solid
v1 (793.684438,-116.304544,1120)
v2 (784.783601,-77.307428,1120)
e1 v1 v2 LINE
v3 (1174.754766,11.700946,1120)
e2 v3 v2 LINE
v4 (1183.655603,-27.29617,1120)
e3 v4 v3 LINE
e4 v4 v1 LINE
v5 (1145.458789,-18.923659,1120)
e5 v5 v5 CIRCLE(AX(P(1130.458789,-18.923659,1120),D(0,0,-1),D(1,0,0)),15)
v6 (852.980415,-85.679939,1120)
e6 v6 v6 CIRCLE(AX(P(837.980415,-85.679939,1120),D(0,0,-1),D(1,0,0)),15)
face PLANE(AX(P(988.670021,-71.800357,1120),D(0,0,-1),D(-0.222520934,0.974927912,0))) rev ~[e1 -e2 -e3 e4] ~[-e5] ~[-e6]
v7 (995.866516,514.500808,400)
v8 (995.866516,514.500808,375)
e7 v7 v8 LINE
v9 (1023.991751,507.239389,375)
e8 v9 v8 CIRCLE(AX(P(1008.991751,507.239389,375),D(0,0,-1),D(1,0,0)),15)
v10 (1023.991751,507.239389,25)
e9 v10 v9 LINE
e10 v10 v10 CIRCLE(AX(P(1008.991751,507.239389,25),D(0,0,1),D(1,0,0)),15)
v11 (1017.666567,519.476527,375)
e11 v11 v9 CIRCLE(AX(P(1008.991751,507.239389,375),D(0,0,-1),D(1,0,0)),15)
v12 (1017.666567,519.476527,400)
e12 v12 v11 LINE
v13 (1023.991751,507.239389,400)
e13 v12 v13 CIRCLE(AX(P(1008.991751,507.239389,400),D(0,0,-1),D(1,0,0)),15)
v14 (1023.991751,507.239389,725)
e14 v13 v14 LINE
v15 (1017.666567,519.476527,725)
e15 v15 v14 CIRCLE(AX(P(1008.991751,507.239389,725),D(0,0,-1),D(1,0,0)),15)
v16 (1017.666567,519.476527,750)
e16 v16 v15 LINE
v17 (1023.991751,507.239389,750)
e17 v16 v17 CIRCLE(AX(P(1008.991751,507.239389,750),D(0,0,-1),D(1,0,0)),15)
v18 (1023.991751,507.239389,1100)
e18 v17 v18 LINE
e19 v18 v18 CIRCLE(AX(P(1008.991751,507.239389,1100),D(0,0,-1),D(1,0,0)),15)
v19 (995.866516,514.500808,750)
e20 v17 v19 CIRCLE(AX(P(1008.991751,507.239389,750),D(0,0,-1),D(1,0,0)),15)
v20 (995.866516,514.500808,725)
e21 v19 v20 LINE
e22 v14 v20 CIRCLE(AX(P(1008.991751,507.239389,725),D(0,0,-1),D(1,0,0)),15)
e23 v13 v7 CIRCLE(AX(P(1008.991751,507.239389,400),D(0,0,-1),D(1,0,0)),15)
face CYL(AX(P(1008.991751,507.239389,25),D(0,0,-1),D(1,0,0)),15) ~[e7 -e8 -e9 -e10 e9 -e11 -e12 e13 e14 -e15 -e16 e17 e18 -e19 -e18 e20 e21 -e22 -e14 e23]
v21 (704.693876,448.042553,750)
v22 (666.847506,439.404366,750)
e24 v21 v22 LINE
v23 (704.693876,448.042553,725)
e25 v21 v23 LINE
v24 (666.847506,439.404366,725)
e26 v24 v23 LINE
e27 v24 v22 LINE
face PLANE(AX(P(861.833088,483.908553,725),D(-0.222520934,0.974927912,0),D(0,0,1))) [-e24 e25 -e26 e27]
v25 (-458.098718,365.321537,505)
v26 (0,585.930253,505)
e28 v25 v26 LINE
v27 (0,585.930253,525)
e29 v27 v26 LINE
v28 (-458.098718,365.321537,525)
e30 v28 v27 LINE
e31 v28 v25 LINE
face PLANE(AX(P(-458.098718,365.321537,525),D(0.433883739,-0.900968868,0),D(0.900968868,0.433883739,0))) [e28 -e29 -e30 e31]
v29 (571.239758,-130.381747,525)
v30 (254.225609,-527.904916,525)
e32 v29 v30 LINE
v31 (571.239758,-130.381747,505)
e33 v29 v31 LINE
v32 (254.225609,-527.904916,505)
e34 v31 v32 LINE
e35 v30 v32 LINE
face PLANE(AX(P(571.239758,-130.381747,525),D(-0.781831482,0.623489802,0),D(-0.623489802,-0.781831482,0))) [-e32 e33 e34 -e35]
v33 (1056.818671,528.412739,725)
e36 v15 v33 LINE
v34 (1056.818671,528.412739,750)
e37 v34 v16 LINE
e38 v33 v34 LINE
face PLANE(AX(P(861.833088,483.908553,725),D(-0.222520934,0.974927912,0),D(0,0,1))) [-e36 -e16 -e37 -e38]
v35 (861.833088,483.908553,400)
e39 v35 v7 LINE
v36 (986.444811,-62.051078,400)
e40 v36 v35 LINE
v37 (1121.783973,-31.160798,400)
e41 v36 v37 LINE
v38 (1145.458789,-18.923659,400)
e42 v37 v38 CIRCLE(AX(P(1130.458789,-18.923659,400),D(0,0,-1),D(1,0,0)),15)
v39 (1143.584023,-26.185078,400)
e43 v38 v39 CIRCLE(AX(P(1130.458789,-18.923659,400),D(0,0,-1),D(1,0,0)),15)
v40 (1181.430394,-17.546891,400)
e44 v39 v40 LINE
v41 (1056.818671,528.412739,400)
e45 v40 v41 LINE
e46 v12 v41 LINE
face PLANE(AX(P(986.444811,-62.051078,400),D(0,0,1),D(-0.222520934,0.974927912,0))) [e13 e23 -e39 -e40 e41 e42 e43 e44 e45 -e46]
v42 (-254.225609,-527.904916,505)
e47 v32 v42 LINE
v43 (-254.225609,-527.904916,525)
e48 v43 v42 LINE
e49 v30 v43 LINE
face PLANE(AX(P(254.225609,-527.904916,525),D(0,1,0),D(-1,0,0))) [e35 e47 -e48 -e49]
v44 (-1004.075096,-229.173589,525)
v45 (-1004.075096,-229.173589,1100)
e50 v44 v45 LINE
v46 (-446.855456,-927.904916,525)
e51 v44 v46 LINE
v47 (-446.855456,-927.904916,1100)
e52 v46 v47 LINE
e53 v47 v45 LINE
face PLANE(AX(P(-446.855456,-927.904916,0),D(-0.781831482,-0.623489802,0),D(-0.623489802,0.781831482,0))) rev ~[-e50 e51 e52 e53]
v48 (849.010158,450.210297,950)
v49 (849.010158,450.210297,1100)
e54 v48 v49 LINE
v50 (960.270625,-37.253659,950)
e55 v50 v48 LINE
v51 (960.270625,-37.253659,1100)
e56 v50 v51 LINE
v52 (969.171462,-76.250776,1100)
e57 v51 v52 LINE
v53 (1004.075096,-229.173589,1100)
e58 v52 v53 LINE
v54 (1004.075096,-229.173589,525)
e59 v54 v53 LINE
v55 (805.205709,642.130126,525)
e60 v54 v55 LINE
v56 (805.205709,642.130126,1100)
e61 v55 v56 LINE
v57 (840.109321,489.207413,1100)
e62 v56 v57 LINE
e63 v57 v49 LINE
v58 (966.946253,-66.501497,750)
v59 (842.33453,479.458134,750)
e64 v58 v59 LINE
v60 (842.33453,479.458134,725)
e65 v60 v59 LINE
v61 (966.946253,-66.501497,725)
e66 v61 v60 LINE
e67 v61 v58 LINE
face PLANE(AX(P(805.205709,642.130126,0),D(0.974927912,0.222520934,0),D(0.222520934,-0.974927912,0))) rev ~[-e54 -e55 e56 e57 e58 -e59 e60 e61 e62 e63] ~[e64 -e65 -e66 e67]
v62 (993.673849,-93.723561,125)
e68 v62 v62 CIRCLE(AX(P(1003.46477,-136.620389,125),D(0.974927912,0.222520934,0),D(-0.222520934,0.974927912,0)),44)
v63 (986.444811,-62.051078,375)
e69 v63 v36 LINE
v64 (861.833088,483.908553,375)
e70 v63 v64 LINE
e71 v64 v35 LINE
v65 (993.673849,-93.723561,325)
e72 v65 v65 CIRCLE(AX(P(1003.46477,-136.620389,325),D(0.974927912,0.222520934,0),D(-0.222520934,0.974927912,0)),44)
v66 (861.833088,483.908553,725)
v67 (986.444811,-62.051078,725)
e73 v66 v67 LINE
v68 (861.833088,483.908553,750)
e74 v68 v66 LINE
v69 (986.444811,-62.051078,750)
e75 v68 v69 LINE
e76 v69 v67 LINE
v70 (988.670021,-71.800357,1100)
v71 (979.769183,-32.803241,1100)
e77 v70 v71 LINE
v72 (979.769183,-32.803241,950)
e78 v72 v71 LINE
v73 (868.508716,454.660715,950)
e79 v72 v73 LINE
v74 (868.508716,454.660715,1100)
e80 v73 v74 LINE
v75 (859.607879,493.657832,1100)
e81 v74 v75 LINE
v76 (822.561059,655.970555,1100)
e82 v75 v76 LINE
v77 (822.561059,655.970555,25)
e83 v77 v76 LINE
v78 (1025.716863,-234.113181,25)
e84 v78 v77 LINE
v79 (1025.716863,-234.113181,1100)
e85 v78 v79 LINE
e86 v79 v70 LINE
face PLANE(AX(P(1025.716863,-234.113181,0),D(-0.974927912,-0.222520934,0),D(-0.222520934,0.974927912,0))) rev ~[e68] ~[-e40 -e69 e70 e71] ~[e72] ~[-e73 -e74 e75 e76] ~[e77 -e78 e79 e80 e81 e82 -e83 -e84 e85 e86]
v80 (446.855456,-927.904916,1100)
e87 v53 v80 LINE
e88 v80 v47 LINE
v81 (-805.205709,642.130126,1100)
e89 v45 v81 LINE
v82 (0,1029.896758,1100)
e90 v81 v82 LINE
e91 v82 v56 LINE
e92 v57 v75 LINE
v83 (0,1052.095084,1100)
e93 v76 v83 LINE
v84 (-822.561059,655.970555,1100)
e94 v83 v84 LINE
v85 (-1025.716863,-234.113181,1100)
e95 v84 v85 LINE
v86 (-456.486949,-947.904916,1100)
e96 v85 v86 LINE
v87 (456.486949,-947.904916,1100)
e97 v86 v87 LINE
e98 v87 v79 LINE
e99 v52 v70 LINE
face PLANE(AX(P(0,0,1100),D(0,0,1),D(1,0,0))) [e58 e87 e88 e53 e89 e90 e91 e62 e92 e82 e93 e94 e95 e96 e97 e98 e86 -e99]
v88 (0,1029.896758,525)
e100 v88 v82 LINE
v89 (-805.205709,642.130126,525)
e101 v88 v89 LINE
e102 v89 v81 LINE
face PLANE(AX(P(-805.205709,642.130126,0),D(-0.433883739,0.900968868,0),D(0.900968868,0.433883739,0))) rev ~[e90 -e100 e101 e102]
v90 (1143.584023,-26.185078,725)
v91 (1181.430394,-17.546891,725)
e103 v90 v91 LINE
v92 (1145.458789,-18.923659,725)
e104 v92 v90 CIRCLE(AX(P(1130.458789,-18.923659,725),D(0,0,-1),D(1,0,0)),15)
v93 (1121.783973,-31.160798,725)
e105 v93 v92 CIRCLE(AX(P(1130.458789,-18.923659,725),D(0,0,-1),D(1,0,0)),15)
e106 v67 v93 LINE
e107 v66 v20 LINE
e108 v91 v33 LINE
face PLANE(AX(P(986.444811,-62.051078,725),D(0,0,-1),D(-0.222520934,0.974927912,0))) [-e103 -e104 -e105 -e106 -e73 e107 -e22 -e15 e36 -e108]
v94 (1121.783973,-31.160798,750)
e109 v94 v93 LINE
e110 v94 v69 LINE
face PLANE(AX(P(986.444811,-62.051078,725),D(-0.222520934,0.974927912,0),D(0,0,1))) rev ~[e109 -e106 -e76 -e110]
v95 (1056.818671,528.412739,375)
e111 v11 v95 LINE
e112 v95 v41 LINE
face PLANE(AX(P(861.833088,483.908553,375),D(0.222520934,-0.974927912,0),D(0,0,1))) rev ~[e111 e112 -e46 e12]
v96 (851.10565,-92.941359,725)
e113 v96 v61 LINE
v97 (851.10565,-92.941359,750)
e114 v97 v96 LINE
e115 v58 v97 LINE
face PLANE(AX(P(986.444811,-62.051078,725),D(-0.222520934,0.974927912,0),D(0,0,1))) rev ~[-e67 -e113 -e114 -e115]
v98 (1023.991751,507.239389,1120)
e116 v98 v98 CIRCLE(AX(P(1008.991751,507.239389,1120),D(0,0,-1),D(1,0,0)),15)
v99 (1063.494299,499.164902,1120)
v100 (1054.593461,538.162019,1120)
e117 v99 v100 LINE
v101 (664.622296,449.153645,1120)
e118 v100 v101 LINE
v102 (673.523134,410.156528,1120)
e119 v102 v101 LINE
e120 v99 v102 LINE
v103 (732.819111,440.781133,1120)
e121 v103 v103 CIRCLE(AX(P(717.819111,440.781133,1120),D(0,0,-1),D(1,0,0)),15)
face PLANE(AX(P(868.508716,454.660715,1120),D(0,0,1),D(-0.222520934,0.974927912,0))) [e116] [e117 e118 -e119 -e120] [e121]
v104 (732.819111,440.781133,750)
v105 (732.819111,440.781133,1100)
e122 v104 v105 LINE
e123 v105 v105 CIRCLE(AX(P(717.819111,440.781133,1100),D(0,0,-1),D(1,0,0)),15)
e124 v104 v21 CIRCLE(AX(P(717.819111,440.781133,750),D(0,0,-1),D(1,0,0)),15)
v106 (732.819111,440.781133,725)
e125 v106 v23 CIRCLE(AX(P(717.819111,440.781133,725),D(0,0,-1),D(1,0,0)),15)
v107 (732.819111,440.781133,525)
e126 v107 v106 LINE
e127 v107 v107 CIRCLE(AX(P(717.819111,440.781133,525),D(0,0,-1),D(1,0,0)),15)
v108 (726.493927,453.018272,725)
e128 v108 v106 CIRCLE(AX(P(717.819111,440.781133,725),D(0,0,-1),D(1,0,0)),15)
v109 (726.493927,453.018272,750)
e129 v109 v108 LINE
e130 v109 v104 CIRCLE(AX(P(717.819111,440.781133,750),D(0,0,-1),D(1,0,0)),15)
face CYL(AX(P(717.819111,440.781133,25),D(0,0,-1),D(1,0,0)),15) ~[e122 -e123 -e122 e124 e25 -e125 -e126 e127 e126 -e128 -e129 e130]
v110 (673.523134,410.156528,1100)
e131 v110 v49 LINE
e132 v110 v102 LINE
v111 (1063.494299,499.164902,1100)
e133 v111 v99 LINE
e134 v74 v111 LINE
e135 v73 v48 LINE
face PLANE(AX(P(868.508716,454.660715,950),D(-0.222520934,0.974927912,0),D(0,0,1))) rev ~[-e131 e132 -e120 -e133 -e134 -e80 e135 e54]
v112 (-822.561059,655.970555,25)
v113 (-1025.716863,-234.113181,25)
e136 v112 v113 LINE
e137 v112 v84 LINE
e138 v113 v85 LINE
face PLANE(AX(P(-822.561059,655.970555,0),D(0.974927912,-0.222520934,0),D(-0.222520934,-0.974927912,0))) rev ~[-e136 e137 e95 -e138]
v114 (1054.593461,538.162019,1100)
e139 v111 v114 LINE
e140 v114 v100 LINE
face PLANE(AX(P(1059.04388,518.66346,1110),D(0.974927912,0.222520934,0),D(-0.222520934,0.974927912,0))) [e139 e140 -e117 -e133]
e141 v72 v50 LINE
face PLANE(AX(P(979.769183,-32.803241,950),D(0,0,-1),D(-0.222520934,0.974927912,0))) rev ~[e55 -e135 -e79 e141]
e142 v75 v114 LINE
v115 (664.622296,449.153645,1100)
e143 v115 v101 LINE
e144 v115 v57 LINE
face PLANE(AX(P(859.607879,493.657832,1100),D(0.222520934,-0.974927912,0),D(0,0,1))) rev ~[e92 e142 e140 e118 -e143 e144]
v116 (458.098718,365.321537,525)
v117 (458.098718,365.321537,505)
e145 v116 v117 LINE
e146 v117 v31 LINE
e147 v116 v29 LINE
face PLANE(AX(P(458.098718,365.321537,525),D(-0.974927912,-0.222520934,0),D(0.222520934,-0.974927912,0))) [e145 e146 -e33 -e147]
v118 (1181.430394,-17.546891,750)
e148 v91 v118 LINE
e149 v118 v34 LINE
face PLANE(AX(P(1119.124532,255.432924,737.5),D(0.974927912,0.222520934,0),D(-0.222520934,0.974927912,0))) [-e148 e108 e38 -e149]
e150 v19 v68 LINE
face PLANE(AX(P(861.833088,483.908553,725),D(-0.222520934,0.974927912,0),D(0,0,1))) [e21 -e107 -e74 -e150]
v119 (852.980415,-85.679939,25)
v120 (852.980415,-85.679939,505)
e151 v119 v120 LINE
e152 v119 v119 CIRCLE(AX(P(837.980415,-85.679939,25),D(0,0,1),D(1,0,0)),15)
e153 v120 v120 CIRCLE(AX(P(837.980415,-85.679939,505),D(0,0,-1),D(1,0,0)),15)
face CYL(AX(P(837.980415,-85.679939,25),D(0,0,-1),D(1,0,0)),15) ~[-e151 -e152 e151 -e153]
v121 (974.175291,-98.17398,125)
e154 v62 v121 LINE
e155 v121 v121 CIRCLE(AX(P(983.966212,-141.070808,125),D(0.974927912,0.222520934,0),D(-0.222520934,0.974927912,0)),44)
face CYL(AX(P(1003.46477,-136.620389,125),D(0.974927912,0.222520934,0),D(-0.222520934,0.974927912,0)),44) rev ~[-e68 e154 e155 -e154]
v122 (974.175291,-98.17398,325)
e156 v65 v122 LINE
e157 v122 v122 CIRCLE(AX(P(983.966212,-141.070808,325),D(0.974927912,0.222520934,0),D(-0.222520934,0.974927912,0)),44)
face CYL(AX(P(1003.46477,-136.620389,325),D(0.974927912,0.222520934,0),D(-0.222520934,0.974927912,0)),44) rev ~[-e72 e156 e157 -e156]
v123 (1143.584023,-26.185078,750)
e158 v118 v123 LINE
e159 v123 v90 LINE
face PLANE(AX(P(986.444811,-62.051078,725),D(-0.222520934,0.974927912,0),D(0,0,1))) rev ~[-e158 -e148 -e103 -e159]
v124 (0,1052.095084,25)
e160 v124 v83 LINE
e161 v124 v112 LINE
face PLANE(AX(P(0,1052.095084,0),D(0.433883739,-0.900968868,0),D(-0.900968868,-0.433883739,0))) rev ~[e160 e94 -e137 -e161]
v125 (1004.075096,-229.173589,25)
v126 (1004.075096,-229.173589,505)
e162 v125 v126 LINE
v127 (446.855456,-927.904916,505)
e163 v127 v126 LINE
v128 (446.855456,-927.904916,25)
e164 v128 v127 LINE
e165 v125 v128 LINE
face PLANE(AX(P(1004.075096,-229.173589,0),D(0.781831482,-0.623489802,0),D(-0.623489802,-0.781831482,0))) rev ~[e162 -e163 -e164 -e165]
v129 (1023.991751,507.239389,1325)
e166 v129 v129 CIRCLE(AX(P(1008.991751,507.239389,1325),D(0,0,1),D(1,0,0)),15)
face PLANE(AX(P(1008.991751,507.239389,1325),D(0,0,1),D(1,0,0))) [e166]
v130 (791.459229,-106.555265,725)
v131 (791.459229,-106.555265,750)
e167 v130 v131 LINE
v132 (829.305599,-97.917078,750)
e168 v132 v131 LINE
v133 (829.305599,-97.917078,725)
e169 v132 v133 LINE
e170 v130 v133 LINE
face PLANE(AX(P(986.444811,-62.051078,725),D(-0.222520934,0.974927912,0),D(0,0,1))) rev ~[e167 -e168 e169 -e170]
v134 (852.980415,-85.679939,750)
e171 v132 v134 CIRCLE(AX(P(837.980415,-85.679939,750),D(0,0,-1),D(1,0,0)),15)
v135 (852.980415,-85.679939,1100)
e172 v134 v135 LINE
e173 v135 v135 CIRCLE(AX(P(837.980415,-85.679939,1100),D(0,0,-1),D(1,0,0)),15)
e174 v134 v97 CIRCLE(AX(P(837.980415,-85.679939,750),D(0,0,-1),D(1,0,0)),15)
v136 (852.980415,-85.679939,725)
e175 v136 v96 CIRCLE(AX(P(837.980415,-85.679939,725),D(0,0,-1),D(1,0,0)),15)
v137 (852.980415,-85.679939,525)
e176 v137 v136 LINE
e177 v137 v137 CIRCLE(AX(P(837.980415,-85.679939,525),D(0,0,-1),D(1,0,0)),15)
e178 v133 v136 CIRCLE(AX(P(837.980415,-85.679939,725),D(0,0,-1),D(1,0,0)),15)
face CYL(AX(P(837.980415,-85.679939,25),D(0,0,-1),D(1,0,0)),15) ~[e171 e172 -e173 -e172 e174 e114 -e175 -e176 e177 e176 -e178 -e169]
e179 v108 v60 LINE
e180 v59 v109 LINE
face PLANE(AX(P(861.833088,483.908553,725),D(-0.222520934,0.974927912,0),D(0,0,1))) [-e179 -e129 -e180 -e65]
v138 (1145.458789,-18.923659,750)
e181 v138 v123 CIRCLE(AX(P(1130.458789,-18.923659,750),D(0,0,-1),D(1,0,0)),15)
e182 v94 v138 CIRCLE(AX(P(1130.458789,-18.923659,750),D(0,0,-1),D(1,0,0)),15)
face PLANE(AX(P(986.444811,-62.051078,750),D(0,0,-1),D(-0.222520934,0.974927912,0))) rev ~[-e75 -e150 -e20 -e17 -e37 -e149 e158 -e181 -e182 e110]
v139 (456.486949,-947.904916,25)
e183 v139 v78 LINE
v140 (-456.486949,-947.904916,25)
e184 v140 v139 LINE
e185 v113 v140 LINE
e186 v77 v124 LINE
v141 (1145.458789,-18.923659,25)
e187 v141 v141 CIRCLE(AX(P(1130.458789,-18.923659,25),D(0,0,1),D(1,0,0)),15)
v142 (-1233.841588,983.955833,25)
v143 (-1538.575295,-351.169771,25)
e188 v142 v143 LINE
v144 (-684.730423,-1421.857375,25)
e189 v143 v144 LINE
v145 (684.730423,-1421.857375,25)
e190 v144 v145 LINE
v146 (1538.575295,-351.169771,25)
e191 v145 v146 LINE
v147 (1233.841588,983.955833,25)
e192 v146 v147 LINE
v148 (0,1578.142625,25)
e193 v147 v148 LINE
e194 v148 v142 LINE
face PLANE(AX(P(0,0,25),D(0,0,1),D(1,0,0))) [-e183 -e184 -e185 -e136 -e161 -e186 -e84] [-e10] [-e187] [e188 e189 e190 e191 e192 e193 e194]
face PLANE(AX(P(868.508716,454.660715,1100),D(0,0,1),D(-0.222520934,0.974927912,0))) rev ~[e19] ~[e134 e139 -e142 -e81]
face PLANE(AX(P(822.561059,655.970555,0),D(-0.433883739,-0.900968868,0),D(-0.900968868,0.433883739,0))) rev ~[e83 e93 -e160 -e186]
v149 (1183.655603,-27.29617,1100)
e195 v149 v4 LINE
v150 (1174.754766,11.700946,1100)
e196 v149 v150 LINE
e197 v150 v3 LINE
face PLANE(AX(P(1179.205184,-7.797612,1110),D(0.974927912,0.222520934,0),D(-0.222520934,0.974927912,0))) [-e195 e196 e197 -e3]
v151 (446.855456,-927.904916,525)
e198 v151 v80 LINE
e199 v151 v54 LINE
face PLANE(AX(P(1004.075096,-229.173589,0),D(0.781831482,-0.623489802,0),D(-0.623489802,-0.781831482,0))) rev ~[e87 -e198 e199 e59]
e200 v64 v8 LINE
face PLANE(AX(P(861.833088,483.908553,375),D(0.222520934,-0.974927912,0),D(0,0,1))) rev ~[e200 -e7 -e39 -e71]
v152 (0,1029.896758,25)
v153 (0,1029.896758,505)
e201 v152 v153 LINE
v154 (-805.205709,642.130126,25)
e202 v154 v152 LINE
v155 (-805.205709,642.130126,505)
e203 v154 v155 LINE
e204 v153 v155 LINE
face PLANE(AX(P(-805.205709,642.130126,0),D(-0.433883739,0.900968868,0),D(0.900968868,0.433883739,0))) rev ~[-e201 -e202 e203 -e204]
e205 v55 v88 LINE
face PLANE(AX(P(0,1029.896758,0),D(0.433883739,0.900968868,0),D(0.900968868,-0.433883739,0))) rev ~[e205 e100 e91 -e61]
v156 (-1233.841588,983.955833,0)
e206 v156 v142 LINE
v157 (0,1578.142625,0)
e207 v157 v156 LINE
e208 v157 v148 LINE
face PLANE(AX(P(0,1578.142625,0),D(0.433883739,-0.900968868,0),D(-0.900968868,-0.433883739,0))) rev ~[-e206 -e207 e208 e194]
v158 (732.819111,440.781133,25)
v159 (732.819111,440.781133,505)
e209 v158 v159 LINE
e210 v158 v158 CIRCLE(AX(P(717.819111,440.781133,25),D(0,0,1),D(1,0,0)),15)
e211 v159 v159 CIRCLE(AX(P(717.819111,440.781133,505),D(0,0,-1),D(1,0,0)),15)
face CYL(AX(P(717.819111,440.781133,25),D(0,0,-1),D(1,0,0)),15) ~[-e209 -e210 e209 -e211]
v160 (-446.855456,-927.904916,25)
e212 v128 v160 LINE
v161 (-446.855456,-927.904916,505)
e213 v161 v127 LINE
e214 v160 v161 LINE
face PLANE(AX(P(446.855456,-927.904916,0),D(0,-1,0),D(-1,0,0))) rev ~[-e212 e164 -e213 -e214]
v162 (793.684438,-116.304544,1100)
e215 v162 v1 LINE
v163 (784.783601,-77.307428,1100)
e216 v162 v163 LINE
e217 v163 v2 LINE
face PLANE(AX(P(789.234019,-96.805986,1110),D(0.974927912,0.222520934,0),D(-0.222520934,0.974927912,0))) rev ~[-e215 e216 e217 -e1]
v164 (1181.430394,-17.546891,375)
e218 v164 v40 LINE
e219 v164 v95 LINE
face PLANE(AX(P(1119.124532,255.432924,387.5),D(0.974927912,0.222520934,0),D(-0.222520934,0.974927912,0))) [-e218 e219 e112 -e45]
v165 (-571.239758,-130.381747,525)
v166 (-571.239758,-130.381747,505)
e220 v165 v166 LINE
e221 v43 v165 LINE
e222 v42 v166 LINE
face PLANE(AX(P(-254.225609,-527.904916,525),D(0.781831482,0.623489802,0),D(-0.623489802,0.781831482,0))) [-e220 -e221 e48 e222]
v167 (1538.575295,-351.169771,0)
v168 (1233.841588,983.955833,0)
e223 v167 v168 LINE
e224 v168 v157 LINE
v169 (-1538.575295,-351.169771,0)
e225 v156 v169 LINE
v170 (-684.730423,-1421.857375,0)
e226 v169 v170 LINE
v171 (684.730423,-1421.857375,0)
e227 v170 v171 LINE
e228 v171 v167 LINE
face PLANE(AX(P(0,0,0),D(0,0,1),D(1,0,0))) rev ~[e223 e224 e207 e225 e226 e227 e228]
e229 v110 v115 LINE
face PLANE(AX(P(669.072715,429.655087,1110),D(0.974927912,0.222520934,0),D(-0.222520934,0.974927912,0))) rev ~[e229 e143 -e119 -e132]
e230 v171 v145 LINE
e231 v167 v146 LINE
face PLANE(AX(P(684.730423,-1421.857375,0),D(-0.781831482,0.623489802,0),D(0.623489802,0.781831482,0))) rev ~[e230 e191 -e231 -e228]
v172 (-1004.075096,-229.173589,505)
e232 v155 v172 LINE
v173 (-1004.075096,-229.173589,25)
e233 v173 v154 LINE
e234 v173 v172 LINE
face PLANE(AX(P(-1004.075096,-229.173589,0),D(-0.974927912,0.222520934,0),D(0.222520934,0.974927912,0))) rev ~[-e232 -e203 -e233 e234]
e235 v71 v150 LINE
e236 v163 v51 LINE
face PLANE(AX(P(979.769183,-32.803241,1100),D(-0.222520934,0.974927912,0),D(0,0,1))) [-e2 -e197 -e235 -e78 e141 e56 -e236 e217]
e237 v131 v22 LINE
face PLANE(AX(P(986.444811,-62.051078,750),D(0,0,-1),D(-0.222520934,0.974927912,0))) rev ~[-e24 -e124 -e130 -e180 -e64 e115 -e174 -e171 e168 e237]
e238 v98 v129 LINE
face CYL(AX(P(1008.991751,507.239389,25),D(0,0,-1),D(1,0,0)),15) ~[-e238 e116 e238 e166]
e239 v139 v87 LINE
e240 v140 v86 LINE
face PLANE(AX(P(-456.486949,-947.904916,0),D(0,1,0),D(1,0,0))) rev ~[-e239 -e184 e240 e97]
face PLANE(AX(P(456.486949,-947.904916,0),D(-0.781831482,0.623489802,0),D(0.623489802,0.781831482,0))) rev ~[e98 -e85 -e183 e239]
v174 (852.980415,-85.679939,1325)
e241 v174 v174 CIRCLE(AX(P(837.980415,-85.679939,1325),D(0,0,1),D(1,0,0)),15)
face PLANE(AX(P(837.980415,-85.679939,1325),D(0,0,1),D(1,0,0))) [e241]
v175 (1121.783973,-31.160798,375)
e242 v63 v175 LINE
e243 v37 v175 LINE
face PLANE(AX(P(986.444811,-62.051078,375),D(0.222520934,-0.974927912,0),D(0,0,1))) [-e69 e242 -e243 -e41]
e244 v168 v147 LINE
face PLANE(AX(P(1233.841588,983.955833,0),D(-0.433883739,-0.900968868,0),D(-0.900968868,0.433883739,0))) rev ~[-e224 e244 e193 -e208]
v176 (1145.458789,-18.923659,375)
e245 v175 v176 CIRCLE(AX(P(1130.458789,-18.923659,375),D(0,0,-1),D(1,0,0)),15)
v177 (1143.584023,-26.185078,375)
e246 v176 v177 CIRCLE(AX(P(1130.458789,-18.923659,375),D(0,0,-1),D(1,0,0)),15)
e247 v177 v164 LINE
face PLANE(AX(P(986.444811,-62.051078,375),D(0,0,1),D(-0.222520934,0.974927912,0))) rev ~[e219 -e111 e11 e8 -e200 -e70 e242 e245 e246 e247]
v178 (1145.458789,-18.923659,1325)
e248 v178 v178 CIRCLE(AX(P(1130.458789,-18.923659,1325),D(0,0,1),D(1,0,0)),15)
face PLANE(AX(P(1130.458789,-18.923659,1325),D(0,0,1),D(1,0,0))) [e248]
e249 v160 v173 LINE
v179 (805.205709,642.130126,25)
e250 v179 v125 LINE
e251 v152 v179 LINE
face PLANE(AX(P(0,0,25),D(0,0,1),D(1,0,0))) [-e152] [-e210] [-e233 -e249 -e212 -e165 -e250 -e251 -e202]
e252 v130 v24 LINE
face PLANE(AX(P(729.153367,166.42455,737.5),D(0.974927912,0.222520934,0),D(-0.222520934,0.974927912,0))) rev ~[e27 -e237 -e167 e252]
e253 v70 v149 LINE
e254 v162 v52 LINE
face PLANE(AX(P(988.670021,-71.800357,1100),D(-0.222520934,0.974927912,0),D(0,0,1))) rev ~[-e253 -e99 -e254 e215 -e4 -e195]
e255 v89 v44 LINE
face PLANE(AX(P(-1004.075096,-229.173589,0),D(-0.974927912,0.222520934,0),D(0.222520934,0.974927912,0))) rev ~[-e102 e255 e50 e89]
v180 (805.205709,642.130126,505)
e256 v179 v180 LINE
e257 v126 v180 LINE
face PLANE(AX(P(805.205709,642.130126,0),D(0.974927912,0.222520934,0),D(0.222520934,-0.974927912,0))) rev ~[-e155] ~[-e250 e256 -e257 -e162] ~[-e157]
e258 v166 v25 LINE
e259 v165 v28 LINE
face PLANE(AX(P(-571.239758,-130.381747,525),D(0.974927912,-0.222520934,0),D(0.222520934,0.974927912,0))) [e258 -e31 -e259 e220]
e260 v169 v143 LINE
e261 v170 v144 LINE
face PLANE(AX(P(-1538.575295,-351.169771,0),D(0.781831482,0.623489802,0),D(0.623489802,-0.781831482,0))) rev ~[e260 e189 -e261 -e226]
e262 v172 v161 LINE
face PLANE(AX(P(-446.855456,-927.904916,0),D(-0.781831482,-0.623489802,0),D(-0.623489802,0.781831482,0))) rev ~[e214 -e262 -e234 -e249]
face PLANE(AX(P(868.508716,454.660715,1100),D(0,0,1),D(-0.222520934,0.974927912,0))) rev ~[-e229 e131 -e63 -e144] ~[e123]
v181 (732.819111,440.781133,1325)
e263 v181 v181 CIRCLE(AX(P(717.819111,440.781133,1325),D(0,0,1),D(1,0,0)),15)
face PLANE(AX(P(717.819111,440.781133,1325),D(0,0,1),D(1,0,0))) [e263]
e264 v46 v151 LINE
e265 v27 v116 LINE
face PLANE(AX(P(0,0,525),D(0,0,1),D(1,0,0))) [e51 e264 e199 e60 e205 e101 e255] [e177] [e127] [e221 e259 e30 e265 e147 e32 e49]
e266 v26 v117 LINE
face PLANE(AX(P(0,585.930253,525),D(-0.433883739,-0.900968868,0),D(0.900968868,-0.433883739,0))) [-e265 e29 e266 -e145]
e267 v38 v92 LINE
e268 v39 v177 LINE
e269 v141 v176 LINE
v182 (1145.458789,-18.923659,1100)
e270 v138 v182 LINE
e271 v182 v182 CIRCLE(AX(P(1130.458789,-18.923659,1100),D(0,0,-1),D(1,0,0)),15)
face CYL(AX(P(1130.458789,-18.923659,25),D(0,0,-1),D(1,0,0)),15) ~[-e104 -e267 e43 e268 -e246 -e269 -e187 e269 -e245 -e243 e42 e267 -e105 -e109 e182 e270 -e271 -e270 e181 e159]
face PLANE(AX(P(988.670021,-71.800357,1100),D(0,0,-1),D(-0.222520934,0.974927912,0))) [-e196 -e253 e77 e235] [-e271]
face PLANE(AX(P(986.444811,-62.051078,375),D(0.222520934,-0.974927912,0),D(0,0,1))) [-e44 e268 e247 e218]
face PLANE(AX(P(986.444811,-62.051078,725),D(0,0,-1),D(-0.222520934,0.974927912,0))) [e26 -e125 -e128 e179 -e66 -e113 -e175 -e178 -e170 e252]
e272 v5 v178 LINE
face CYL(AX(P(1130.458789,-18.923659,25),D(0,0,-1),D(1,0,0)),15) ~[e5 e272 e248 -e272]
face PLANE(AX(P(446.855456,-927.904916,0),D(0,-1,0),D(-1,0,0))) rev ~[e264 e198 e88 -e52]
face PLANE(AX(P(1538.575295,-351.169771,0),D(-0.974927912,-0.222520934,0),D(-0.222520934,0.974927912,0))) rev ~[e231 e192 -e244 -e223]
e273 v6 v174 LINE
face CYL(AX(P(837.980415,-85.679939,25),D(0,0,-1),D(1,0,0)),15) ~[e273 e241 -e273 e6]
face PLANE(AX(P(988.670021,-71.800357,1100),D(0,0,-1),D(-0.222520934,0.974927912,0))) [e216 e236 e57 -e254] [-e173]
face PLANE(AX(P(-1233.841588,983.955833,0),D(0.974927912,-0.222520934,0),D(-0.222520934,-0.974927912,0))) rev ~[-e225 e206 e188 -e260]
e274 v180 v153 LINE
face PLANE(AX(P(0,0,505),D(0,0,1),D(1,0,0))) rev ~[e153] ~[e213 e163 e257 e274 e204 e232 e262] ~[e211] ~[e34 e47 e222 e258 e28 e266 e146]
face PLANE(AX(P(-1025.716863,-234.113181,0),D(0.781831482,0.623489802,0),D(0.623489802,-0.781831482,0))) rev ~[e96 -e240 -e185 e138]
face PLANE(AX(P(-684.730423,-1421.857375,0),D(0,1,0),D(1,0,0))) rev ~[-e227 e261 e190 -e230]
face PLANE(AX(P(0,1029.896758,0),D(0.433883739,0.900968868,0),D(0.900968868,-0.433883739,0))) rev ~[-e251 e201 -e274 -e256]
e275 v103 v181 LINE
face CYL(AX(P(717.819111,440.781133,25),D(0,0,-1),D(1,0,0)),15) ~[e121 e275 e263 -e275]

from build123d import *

# Parameters (mm, degrees)
F1_DEPTH  = 1100
F3_DEPTH  = 25
F6_DEPTH  = 20
F7_W      = 500
F7_H      = 150
F8_DEPTH  = 20
F7_R      = 44
F9_DEPTH  = 20
F10_R     = 15
F11_DEPTH = 1300
F7_W_2    = 560
F7_H_2    = 25
F12_DEPTH = 200
F13_DEPTH = 200
F7_W_3    = 40
F7_H_3    = 20
F14_DEPTH = 200


with BuildPart() as f1:
    # F0 (on Top) → F1 (new body)
    with BuildSketch(Plane.XY):
        Polygon((822.5610589096, 655.9705552114), (0, 1052.0950836017), (-822.5610589096, 655.9705552114), (-1025.7168632726, -234.1131806139), (-456.4869487803, -947.9049163983), (456.4869487803, -947.9049163983), (1025.7168632726, -234.1131806139), align=None)
        Polygon((805.2057093449, 642.1301257788), (1004.07509635, -229.1735885395), (446.8554564041, -927.9049163983), (-446.8554564041, -927.9049163983), (-1004.07509635, -229.1735885395), (-805.2057093449, 642.1301257788), (0, 1029.8967583182), align=None, mode=Mode.SUBTRACT)
    extrude(amount=F1_DEPTH)

    # F2 (on Top) → F3 (join)
    with BuildSketch(Plane.XY):
        Polygon((1233.8415883644, 983.955832817), (0, 1578.1426254025), (-1233.8415883644, 983.955832817), (-1538.5752949088, -351.1697709208), (-684.7304231704, -1421.8573745975), (684.7304231704, -1421.8573745975), (1538.5752949088, -351.1697709208), align=None)
    extrude(amount=F3_DEPTH)

    # F5 (on offset) → F6 (join)
    with BuildSketch(Plane.XY.offset(525)):
        Polygon((0, 1029.8967583182), (-805.2057093449, 642.1301257788), (-1004.07509635, -229.1735885395), (-446.8554564041, -927.9049163983), (446.8554564041, -927.9049163983), (1004.07509635, -229.1735885395), (805.2057093449, 642.1301257788), align=None)
        Polygon((-458.0987180509, 365.3215371267), (0, 585.9302526483), (458.0987180509, 365.3215371267), (571.2397578986, -130.3817470526), (254.2256088811, -527.9049163983), (-254.2256088811, -527.9049163983), (-571.2397578986, -130.3817470526), align=None, mode=Mode.SUBTRACT)
    extrude(amount=-F6_DEPTH)

    # F7 (on face) → F8 (cut)
    with BuildSketch(Plane(origin=(924.1389610911, 210.9286872987, 0), x_dir=(-0.222520934, 0.9749279122, 0), z_dir=(0.9749279122, 0.222520934, 0))):
        with Locations((5.12197e-05, 1025)):
            Rectangle(F7_W, F7_H)
    extrude(amount=-F8_DEPTH, mode=Mode.SUBTRACT)

    # F7 (on face) → F9 (cut)
    with BuildSketch(Plane(origin=(924.1389610911, 210.9286872987, 0), x_dir=(-0.222520934, 0.9749279122, 0), z_dir=(0.9749279122, 0.222520934, 0))):
        with Locations((-356.4869487803, 325)):
            Circle(F7_R)
        with Locations((-356.4869487803, 125)):
            Circle(F7_R)
    extrude(amount=-F9_DEPTH, mode=Mode.SUBTRACT)

    # F10 (on face) → F11 (join)
    with BuildSketch(Plane.XY.offset(25)):
        with Locations((1130.4587886891, -18.9236589614)):
            Circle(F10_R)
        with Locations((1008.9917511872, 507.2393885425)):
            Circle(F10_R)
        with Locations((717.8191106982, 440.7811334299)):
            Circle(F10_R)
        with Locations((837.9804150346, -85.6799391483)):
            Circle(F10_R)
    extrude(amount=F11_DEPTH)

    # F7 (on face) → F12 (join)
    with BuildSketch(Plane(origin=(924.1389610911, 210.9286872987, 0), x_dir=(-0.222520934, 0.9749279122, 0), z_dir=(0.9749279122, 0.222520934, 0))):
        with Locations((5.12197e-05, 387.5)):
            Rectangle(F7_W_2, F7_H_2)
    extrude(amount=F12_DEPTH)

    # F7 (on face) → F13 (join, symmetric)
    with BuildSketch(Plane(origin=(924.1389610911, 210.9286872987, 0), x_dir=(-0.222520934, 0.9749279122, 0), z_dir=(0.9749279122, 0.222520934, 0))):
        with Locations((5.12197e-05, 737.5)):
            Rectangle(F7_W_2, F7_H_2)
    extrude(amount=F13_DEPTH, both=True)

    # F7 (on face) → F14 (join, symmetric)
    with BuildSketch(Plane(origin=(924.1389610911, 210.9286872987, 0), x_dir=(-0.222520934, 0.9749279122, 0), z_dir=(0.9749279122, 0.222520934, 0))):
        with Locations((270.0000512197, 1110)):
            Rectangle(F7_W_3, F7_H_3)
        with Locations((-269.9999487803, 1110)):
            Rectangle(F7_W_3, F7_H_3)
    extrude(amount=F14_DEPTH, both=True)


solid = f1.part
